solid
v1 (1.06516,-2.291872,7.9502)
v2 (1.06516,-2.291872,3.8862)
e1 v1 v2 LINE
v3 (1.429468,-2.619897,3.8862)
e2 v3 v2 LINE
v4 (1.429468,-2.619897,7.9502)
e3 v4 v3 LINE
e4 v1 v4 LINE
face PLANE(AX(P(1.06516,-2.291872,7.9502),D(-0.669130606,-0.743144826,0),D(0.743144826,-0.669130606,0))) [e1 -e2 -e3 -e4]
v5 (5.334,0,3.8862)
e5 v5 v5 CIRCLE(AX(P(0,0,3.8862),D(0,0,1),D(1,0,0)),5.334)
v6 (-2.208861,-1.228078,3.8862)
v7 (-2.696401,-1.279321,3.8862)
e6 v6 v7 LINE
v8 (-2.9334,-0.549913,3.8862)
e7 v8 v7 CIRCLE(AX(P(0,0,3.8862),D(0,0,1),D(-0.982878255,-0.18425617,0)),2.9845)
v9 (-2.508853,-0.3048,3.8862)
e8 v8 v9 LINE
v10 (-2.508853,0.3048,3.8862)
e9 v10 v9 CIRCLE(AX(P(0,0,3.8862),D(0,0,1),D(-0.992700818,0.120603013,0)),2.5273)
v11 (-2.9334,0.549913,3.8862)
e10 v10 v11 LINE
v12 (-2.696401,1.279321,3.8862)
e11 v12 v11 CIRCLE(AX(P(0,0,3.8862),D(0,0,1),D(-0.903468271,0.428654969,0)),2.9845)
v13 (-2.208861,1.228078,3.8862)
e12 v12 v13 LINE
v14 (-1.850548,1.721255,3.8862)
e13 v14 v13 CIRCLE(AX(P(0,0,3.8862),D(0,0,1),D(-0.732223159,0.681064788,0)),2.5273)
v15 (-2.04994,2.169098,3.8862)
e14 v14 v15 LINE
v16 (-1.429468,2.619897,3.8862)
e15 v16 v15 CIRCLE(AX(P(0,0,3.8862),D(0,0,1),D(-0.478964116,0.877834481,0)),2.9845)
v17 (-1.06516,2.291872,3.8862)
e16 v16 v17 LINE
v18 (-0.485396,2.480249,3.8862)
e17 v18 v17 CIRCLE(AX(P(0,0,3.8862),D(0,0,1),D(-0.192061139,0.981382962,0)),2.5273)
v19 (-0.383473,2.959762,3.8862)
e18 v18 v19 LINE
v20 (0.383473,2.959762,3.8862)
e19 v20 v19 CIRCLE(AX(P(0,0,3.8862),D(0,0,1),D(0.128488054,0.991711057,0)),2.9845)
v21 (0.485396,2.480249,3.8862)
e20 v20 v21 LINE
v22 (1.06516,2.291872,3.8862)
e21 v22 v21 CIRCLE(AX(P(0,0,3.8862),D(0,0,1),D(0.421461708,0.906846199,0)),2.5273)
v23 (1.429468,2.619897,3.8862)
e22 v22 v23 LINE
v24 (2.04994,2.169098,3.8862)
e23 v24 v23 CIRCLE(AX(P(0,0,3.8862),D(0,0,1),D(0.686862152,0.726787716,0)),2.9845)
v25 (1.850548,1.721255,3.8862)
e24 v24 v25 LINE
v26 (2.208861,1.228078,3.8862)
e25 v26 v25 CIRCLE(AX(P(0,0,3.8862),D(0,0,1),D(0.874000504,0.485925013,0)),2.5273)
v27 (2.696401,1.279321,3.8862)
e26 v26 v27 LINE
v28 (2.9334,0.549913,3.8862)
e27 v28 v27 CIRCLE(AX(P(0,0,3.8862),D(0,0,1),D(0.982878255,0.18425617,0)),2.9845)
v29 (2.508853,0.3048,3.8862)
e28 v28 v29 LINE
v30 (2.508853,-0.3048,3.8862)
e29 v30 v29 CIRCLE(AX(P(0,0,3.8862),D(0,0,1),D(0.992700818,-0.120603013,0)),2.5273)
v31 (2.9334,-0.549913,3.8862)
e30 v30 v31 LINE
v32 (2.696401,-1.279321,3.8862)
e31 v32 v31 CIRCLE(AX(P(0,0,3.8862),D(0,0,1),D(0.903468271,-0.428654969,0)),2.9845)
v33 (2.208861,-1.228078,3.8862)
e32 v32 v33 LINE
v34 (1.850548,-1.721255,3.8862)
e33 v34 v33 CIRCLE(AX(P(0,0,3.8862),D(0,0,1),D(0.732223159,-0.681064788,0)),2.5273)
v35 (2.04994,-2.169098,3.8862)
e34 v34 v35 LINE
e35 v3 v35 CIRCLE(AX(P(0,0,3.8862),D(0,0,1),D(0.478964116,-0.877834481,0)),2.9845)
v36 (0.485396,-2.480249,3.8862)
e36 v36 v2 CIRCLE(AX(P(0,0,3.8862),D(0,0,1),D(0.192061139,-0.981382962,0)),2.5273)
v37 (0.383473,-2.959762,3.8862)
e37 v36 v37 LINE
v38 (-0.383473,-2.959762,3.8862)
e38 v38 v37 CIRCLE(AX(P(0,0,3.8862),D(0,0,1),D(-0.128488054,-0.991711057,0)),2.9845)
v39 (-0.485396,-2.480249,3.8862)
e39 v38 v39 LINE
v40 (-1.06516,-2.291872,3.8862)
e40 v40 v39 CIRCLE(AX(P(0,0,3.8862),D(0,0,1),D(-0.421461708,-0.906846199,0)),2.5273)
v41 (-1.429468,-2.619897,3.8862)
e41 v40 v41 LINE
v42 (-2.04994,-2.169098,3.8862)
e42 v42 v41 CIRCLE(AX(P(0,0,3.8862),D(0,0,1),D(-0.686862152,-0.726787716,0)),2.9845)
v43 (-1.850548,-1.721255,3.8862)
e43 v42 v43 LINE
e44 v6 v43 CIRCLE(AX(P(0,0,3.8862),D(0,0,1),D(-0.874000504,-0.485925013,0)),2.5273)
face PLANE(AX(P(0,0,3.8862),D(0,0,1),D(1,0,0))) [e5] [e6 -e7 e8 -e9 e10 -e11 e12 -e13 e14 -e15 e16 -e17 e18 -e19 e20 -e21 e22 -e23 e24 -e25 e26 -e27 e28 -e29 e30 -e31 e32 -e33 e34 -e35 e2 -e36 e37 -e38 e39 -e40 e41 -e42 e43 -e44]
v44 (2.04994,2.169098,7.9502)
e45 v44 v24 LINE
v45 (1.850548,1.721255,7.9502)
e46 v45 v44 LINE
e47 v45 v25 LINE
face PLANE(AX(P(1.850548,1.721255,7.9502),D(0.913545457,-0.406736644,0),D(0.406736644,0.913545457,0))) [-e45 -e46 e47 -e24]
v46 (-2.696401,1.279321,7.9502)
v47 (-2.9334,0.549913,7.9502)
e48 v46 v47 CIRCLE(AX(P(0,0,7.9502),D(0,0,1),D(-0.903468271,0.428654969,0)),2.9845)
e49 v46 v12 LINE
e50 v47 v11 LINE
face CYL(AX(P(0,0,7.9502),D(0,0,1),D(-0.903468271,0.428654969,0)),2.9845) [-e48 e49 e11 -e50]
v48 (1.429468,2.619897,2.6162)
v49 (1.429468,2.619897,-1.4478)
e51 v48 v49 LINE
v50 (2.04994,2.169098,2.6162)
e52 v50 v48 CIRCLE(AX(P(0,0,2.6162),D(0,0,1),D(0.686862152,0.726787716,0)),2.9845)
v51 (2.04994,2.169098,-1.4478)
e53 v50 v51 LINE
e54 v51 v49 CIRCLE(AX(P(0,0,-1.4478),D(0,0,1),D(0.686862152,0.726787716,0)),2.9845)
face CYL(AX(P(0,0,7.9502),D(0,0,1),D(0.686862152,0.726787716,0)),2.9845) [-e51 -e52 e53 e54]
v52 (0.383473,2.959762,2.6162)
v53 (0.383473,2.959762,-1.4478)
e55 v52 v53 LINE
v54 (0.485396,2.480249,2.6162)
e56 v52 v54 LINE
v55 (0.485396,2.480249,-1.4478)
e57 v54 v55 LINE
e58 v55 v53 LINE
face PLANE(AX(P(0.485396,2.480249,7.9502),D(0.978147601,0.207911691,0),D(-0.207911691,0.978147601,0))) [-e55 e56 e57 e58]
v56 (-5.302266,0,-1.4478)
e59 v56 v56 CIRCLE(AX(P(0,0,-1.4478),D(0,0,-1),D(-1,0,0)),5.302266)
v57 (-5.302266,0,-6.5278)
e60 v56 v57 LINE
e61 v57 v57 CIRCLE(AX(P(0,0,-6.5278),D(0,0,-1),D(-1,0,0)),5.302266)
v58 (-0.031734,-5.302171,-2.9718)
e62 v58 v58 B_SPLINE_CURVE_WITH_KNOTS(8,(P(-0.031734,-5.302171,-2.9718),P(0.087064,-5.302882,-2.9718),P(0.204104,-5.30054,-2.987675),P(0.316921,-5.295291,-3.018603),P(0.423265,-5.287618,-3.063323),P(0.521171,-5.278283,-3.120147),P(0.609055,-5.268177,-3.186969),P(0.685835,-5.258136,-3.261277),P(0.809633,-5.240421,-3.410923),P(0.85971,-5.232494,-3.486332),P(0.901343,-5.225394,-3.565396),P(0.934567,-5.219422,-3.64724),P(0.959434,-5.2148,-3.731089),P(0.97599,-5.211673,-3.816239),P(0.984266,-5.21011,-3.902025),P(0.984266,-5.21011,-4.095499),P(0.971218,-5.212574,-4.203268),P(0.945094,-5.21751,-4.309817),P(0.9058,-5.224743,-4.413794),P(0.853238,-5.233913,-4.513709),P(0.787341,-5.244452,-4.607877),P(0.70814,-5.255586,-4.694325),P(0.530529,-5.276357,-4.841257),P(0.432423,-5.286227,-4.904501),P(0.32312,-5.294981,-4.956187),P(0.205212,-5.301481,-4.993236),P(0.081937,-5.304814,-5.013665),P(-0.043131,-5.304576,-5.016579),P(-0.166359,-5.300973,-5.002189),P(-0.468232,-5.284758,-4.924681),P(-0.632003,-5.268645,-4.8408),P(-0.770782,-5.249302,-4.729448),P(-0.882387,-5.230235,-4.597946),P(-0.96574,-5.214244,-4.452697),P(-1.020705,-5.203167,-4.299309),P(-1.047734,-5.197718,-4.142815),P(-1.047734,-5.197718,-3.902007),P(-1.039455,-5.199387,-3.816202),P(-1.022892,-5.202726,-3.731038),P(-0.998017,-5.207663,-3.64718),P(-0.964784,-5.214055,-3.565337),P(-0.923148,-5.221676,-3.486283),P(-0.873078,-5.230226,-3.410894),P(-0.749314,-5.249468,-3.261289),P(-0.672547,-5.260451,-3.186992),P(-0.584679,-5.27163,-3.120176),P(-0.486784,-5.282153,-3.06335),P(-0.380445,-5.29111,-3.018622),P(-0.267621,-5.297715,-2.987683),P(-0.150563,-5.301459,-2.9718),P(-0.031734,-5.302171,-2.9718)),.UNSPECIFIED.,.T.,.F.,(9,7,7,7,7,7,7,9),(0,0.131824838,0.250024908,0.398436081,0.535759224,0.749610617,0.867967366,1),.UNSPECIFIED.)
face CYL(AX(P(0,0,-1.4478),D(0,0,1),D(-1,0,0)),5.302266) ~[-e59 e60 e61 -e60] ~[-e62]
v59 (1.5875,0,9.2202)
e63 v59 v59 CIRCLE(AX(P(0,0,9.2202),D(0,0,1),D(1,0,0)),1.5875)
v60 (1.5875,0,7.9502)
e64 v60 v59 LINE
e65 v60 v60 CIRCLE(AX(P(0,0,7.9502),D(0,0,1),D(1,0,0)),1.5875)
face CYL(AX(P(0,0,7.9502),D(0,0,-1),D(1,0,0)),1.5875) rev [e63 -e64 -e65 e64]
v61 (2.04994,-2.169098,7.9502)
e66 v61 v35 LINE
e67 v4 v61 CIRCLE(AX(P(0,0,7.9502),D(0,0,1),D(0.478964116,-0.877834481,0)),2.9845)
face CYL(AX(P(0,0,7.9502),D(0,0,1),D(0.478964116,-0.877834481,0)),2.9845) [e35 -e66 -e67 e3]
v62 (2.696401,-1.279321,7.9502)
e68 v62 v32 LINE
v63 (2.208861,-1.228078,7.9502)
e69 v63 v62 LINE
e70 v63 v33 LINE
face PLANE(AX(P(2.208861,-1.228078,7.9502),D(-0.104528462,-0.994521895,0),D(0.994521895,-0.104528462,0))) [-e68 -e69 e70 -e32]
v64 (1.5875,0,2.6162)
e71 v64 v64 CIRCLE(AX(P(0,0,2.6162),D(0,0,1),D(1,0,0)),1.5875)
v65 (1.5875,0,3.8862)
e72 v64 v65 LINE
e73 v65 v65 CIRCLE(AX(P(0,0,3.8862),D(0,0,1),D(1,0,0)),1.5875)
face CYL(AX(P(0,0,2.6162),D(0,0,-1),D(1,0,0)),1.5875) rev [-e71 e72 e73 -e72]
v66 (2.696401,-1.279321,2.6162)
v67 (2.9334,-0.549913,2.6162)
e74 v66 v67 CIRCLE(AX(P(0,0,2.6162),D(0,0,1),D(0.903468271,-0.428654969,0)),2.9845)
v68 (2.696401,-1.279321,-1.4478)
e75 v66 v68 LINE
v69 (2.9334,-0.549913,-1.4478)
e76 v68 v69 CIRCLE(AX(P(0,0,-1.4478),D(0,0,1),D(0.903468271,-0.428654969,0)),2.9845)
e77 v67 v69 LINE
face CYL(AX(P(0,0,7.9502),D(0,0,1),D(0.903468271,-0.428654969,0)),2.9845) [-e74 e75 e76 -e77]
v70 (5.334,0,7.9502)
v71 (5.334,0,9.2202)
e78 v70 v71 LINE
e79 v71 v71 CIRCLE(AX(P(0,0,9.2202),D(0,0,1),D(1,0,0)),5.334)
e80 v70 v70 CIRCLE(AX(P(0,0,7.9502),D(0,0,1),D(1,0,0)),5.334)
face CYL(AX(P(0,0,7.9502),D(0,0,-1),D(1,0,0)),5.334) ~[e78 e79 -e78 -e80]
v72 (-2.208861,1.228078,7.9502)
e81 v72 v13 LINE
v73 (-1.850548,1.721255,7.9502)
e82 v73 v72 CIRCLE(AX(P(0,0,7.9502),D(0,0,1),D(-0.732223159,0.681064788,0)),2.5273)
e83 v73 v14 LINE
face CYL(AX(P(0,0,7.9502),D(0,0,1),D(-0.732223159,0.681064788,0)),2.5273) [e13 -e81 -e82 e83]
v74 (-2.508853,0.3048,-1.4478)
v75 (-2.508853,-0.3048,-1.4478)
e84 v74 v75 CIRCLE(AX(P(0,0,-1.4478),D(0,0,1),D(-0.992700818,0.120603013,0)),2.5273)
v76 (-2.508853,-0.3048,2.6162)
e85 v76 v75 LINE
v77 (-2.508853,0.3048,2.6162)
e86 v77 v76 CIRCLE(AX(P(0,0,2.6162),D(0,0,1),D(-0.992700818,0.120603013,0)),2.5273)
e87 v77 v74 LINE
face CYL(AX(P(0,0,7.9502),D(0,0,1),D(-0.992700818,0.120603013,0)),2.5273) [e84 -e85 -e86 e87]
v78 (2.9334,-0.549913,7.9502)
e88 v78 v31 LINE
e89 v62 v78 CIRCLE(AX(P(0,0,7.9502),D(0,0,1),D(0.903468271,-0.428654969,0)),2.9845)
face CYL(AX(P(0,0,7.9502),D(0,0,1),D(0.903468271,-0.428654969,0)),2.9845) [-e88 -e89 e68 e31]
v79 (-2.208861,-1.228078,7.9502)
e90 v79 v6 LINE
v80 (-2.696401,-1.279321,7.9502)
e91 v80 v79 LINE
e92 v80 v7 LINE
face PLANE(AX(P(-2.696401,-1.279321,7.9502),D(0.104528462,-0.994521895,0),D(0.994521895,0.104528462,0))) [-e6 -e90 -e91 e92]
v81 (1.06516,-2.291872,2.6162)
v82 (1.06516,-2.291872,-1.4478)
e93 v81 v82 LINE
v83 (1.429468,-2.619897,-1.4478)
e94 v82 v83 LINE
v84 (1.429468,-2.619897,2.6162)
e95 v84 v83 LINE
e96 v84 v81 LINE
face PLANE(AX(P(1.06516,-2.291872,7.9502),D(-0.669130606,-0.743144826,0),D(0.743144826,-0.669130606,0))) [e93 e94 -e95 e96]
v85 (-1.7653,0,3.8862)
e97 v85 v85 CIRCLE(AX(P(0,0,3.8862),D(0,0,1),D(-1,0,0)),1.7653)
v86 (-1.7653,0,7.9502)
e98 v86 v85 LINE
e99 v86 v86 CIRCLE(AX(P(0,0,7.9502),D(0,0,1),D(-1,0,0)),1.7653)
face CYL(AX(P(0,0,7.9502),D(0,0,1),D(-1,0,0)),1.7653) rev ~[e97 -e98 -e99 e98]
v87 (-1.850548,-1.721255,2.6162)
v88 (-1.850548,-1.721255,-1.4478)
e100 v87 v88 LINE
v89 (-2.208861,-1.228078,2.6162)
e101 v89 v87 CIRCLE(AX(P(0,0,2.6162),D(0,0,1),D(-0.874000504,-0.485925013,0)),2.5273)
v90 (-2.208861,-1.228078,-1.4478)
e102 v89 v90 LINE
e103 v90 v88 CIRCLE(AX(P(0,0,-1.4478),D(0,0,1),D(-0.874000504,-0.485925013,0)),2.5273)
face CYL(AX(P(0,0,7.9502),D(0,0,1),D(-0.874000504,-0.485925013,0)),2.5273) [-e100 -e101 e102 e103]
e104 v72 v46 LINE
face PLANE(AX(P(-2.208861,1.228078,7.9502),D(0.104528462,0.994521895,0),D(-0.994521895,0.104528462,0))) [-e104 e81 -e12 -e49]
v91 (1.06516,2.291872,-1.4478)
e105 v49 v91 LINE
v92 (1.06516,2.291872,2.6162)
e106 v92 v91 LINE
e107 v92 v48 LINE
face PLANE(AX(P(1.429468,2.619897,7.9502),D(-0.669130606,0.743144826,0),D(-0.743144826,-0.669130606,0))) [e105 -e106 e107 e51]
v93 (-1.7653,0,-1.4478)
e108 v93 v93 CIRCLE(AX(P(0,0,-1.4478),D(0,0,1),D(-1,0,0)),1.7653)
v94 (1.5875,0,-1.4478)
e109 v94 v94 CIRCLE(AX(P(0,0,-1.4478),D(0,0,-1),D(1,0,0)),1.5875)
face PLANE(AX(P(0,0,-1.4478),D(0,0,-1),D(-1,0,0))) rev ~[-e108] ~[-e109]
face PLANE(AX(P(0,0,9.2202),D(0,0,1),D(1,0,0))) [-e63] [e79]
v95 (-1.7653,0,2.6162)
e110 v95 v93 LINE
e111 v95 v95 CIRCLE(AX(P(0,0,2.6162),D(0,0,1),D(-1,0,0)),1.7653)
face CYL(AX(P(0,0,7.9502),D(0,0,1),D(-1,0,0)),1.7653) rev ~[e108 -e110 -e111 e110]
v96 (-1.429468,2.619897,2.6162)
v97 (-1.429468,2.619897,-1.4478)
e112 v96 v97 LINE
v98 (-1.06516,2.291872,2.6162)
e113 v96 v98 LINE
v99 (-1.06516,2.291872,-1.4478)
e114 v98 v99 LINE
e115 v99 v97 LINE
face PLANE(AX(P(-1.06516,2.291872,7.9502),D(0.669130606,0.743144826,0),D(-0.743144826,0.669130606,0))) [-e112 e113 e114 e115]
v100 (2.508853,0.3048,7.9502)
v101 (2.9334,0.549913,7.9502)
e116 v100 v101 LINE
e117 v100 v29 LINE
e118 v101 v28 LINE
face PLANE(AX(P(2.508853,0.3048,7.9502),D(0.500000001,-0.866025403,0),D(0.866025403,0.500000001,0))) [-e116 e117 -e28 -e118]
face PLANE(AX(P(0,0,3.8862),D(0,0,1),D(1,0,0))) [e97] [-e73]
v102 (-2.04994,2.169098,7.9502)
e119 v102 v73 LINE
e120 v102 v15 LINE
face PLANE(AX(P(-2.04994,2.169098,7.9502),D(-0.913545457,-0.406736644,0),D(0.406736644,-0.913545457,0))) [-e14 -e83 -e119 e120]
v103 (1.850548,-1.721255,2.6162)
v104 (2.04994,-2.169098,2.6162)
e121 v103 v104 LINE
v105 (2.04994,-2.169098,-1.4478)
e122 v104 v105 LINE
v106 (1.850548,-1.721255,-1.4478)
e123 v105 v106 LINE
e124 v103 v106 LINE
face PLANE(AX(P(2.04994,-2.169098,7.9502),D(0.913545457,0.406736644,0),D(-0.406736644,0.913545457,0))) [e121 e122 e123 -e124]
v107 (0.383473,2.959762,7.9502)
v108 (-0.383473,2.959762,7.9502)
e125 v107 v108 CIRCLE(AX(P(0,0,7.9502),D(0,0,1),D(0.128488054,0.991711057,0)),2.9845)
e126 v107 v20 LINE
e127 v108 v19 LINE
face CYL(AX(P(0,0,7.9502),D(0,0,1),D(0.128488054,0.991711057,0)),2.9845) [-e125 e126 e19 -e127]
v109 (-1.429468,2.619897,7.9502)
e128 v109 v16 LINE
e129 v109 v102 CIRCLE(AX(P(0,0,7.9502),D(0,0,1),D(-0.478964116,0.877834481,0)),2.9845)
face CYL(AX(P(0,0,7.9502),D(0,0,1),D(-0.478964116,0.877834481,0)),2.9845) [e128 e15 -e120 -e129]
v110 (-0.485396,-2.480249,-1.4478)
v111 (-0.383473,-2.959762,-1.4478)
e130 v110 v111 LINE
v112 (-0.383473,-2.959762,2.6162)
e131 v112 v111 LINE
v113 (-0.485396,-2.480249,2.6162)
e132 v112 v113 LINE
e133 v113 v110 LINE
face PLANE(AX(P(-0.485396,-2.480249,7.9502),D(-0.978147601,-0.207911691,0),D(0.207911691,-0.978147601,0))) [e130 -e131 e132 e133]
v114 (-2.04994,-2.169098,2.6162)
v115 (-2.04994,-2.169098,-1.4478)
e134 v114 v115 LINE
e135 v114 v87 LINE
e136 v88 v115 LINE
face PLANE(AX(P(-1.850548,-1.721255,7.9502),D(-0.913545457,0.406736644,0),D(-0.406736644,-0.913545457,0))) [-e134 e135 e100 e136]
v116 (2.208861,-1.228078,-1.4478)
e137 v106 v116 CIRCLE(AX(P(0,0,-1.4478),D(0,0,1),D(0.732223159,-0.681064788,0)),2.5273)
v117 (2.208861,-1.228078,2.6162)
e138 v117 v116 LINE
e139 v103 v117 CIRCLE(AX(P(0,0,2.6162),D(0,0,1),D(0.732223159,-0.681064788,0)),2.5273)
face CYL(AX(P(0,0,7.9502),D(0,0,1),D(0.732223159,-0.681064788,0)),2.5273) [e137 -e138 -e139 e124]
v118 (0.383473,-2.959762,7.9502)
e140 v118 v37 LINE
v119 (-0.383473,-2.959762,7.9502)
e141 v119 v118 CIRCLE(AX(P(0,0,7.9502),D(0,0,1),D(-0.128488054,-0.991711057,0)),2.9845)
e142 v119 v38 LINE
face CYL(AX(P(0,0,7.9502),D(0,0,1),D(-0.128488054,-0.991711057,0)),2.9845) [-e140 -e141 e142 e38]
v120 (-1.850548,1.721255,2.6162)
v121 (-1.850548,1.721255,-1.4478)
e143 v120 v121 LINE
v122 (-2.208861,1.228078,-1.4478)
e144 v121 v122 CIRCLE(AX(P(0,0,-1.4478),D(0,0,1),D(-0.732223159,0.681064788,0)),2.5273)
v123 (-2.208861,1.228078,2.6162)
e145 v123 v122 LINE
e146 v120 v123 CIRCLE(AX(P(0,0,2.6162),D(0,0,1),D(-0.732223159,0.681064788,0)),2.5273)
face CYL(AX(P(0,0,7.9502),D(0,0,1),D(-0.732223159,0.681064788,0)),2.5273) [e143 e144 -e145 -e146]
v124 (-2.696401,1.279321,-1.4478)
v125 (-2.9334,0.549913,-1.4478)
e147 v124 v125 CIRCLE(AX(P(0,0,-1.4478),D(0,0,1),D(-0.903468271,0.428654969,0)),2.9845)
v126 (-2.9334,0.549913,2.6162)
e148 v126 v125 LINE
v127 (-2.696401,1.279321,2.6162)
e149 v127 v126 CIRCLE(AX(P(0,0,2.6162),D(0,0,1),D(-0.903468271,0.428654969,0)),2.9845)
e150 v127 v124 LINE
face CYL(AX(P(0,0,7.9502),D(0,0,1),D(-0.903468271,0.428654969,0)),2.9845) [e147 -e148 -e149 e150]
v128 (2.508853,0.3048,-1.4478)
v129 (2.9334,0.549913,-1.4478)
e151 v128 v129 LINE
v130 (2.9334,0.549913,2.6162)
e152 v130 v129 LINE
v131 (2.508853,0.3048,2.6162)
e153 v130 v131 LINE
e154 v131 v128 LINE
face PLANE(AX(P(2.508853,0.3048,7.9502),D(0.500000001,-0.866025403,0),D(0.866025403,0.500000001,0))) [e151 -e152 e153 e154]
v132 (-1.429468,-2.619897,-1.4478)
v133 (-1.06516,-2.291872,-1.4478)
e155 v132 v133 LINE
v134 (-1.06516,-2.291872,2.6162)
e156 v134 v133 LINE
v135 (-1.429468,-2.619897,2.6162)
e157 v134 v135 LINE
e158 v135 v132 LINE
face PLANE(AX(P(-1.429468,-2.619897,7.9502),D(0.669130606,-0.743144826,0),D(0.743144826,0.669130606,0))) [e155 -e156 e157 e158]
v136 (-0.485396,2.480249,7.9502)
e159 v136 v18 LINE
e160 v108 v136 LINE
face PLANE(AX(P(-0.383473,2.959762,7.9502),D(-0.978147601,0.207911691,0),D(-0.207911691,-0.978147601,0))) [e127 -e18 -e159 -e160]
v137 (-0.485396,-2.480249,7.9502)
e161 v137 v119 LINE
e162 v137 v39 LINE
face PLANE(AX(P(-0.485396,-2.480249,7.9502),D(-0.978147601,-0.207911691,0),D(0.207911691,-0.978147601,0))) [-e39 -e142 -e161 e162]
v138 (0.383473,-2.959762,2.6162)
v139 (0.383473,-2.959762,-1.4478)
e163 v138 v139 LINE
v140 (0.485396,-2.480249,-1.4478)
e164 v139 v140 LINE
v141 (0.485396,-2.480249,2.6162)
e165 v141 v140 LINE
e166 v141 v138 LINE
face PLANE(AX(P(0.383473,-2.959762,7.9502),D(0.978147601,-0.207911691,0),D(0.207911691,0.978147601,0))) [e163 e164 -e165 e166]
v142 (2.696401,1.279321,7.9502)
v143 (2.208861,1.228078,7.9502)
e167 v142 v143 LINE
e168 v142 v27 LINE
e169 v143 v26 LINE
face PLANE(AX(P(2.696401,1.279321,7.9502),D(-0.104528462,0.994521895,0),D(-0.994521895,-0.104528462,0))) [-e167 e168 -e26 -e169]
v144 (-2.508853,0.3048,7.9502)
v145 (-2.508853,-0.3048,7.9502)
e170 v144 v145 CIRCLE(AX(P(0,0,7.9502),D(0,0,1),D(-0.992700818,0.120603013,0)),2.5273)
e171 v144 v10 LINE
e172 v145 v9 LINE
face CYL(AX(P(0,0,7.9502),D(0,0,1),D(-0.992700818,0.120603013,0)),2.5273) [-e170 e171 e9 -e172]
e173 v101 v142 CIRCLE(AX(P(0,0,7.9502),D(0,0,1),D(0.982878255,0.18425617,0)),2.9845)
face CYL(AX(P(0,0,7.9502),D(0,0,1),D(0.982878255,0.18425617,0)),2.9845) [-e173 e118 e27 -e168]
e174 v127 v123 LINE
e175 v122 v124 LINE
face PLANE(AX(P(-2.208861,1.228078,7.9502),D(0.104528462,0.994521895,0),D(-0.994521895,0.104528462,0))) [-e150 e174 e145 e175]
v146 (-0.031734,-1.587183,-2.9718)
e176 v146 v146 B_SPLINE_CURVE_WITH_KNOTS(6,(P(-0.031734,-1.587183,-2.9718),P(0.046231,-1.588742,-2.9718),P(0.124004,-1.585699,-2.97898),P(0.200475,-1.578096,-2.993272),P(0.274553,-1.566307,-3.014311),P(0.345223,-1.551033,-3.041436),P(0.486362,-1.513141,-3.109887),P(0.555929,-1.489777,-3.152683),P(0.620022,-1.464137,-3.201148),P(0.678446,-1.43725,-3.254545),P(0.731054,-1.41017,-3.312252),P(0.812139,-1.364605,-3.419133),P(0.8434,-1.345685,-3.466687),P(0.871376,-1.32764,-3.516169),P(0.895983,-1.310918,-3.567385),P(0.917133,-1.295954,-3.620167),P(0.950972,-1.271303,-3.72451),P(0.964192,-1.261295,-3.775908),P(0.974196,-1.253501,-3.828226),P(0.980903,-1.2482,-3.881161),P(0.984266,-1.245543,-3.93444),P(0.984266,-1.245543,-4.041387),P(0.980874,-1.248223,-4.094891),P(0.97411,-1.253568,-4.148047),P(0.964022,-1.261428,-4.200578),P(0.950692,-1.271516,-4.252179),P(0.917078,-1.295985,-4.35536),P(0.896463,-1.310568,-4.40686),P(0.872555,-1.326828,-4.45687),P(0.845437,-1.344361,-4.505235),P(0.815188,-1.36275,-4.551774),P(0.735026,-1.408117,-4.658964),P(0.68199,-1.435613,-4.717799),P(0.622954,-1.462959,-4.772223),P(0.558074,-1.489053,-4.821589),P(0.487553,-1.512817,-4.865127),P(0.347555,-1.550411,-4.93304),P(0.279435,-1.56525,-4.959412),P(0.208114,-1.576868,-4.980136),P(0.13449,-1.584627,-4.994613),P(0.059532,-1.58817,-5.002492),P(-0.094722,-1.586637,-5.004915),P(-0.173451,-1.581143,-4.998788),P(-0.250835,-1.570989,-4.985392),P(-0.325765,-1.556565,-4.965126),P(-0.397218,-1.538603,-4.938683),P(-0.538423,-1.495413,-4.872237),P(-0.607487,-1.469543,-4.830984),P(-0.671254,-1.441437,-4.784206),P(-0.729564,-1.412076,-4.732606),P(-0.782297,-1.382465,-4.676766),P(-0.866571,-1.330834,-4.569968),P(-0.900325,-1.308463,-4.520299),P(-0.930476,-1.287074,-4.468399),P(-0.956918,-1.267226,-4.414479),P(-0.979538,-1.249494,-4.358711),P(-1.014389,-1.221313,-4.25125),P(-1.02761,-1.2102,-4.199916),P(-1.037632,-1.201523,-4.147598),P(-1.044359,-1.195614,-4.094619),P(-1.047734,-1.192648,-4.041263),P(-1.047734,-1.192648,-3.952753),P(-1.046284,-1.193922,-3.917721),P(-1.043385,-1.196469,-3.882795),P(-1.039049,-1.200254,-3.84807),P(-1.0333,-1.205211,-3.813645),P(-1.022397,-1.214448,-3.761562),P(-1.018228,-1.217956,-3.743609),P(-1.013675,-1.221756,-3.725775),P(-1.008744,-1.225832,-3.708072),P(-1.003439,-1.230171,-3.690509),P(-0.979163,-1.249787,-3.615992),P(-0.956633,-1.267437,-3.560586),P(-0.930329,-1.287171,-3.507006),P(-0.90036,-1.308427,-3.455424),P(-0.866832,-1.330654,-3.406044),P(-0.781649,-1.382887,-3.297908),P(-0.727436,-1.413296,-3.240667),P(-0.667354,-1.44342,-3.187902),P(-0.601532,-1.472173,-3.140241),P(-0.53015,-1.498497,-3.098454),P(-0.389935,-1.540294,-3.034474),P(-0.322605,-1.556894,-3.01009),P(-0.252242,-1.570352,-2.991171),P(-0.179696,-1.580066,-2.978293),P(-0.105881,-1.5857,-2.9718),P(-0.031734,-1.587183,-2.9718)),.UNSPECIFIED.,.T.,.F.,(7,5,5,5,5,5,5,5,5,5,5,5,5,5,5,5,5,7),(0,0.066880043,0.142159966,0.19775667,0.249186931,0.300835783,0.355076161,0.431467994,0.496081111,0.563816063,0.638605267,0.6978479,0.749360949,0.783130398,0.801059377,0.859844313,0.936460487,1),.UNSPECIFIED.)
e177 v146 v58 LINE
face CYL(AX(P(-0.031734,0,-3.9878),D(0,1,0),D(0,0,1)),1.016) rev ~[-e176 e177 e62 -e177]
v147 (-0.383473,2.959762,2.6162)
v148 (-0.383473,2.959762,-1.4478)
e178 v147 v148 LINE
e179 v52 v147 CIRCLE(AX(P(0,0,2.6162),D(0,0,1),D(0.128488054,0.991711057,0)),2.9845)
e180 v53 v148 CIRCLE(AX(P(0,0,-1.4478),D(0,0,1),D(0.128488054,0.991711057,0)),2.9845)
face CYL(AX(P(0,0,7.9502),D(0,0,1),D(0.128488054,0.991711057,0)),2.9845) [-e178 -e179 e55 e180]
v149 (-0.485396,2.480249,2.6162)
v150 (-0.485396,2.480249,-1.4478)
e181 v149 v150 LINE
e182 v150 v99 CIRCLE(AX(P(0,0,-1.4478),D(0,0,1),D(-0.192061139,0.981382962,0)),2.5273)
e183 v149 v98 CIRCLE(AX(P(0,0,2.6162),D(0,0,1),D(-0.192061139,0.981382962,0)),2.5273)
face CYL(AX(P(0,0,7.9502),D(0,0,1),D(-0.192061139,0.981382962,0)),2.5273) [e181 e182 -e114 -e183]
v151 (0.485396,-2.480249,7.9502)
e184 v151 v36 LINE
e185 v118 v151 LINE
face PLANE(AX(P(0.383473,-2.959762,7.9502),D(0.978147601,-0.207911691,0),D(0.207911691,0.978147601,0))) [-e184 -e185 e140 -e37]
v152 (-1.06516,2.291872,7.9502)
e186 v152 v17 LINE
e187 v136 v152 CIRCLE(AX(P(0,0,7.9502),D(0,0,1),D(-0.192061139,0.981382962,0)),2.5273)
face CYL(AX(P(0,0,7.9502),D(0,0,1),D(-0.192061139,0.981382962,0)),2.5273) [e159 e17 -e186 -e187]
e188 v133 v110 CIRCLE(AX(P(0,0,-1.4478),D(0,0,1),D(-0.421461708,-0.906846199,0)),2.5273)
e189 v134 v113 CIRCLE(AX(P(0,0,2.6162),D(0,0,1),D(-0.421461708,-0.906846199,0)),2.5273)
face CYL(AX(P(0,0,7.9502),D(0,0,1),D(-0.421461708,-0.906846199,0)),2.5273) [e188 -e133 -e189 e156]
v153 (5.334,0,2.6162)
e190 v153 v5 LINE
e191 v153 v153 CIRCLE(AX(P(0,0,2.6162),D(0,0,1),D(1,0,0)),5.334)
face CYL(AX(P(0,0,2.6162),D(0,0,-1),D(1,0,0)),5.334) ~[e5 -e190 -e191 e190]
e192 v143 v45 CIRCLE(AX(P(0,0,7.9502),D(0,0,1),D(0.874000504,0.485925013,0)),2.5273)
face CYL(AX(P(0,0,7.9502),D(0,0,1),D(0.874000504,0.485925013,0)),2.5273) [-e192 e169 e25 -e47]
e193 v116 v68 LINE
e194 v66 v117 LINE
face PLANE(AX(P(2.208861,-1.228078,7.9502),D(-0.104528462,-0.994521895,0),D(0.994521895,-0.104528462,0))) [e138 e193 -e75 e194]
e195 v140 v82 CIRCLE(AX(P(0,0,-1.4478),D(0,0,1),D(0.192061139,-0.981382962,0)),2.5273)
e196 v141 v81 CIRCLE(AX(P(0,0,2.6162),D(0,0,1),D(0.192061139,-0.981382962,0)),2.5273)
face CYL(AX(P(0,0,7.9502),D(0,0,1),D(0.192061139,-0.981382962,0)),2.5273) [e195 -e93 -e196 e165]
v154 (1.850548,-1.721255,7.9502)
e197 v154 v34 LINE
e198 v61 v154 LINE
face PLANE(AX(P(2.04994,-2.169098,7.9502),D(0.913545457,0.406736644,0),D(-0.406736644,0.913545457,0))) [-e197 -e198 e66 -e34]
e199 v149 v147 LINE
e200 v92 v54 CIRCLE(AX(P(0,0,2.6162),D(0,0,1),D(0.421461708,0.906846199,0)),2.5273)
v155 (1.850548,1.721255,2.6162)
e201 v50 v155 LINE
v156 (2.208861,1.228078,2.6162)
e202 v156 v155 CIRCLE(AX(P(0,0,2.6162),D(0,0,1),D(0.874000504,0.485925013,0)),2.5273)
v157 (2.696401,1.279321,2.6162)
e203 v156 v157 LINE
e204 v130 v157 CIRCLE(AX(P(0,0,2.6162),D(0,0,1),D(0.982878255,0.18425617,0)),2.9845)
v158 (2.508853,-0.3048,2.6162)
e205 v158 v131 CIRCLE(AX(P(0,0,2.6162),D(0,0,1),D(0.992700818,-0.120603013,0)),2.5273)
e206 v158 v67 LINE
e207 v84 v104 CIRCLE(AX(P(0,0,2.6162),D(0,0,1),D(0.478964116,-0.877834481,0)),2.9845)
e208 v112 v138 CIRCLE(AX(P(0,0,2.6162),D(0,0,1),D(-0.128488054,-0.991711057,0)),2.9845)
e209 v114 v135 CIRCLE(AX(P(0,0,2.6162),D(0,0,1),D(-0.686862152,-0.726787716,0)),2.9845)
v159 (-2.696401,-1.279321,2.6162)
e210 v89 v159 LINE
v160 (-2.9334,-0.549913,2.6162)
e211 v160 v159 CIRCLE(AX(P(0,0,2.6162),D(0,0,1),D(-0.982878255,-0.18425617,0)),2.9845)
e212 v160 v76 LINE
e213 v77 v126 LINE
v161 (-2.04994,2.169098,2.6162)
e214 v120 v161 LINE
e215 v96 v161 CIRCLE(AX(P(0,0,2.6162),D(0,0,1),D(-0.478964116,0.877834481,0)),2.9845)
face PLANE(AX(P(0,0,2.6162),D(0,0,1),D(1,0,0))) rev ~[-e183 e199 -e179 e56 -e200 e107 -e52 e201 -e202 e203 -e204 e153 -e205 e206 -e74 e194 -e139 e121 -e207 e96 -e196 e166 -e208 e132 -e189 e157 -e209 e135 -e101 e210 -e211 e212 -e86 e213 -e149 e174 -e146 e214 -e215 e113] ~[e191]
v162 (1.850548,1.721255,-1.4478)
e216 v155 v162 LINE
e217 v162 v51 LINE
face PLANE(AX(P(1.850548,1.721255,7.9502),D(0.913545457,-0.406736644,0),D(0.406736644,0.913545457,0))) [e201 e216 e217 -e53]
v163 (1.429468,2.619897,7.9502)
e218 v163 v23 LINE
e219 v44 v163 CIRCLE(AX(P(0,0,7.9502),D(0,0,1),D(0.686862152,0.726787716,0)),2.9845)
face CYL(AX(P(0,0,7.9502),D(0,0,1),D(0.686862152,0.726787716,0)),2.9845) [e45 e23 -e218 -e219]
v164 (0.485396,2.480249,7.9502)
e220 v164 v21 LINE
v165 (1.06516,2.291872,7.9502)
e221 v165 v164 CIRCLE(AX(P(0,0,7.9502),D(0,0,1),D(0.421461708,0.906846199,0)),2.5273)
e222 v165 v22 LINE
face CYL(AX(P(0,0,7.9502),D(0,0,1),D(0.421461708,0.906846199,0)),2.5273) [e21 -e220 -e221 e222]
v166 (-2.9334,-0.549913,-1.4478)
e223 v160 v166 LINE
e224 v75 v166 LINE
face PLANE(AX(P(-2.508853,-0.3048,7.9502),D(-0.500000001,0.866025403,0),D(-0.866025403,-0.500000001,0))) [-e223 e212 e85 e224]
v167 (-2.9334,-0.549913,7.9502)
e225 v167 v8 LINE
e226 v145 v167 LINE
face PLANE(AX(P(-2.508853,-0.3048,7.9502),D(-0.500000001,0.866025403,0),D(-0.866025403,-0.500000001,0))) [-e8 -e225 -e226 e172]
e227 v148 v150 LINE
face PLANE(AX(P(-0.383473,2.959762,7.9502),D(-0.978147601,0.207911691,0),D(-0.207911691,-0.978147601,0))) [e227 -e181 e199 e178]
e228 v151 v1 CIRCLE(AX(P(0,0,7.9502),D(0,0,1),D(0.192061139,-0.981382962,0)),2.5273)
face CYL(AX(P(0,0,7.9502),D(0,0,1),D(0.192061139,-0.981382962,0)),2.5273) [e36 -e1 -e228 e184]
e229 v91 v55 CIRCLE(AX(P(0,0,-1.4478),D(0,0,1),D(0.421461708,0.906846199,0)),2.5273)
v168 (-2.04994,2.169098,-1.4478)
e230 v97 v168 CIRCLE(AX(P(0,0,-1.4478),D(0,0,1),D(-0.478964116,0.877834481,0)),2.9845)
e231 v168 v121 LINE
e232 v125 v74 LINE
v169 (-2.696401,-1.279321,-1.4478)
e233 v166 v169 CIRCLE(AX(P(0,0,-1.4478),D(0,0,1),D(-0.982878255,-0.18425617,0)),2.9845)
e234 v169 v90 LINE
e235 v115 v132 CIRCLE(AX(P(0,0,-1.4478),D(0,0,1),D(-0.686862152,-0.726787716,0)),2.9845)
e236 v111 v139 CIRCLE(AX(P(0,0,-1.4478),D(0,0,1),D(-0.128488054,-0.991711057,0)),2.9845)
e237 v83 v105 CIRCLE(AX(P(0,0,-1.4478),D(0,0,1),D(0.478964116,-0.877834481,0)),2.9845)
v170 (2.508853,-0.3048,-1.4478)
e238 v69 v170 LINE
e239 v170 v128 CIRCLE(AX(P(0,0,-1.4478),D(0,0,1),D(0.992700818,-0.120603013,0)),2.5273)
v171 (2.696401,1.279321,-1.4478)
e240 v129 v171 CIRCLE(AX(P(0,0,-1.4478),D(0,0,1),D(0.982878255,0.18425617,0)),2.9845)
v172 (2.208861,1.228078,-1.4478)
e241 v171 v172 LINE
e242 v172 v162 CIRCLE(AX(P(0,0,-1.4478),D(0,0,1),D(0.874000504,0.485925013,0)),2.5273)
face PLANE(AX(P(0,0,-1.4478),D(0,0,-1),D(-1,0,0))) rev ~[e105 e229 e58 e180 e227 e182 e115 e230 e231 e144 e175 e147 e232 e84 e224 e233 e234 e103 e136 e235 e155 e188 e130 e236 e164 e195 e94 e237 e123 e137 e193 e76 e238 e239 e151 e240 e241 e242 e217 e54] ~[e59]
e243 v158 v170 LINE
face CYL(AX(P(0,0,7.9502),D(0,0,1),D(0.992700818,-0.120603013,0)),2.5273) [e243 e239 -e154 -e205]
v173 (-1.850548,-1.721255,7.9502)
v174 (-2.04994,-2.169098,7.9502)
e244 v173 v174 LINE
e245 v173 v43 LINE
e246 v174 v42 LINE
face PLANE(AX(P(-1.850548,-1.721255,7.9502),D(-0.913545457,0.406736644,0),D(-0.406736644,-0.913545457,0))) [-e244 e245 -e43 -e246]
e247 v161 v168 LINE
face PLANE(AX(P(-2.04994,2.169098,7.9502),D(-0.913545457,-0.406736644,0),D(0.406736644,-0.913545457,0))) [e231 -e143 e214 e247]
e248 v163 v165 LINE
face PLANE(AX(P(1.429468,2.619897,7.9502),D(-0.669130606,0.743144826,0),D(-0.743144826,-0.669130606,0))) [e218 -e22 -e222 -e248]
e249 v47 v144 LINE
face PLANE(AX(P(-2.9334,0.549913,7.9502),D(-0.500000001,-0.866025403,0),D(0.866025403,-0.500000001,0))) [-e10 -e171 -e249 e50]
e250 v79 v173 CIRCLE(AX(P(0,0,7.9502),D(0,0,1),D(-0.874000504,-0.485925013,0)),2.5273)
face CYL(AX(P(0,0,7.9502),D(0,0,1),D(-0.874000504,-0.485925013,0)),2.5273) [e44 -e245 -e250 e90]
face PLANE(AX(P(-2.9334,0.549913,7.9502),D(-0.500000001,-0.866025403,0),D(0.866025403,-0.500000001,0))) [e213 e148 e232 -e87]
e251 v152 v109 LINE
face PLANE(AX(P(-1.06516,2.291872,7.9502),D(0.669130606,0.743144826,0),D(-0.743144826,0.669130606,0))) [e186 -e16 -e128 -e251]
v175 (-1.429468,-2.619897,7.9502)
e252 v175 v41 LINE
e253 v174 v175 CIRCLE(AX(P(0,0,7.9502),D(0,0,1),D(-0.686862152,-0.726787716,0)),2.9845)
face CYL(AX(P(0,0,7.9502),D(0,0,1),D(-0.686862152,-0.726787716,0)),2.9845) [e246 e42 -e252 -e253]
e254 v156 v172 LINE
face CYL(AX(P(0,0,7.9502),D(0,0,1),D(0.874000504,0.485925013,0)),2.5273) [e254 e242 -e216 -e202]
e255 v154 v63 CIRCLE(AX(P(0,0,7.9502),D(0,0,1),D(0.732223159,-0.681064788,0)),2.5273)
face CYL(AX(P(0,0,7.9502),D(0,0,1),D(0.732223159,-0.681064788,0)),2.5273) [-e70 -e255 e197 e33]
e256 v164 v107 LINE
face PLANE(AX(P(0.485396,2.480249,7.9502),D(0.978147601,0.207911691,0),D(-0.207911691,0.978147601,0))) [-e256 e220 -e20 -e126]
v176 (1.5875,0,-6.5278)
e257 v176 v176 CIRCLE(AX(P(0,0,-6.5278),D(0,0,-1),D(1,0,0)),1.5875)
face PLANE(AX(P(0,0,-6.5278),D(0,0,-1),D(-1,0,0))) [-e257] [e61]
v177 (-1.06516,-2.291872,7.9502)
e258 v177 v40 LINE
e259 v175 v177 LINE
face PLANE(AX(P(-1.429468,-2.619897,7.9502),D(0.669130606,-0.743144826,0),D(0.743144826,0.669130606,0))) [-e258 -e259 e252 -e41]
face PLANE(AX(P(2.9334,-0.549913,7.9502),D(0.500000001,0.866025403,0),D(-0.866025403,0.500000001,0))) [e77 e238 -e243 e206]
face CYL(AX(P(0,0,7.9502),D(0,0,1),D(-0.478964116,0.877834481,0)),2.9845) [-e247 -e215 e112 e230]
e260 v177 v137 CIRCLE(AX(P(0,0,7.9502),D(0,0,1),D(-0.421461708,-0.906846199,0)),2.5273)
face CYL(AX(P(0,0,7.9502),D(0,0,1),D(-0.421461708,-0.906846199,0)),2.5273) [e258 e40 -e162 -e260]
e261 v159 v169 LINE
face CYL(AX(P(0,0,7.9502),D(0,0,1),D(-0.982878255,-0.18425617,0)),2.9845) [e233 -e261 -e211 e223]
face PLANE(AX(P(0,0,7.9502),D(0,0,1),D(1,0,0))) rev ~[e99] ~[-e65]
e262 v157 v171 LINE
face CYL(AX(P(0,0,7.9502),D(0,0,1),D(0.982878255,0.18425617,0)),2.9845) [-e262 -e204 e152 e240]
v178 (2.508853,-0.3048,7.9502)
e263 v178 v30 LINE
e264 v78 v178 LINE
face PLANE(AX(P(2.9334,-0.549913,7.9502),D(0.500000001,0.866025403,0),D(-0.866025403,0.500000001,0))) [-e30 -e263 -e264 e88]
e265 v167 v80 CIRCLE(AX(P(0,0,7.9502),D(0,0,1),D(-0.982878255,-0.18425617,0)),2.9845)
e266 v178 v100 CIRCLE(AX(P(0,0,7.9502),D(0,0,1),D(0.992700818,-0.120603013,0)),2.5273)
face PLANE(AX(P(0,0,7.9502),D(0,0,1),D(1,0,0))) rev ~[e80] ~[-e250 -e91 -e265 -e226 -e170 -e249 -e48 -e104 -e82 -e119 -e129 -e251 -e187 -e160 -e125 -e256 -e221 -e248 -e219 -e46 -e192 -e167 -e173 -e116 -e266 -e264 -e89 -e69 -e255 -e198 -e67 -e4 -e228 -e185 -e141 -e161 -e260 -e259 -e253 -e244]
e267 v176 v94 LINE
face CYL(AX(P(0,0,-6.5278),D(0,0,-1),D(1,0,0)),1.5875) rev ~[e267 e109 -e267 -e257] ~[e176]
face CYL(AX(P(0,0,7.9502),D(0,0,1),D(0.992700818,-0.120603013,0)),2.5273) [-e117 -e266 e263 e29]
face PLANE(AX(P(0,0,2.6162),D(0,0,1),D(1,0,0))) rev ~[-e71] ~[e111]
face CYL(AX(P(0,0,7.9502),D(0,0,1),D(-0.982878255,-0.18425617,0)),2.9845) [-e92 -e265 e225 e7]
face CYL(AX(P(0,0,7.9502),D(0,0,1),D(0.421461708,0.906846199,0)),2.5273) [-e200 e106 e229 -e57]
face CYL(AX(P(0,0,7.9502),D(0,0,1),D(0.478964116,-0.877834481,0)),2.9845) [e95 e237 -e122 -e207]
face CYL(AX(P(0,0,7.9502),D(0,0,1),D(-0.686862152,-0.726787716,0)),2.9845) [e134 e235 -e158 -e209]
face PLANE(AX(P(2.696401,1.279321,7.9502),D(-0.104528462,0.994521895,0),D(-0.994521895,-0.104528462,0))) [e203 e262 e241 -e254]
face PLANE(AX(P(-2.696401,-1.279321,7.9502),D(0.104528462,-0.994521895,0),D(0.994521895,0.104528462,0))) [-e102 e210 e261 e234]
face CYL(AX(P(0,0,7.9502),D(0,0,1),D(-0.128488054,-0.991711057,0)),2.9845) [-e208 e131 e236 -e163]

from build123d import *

# Parameters (mm, degrees)
SKETCH1_R           = 1.7653
BOSS_EXTRUDE1_DEPTH = 9.398
SKETCH2_R           = 5.334
SKETCH2_R_2         = 1.5875
BOSS_EXTRUDE2_DEPTH = 1.27
BOSS_EXTRUDE3_START = -1.27
SKETCH3_R           = 5.334
SKETCH3_R_2         = 1.5875
BOSS_EXTRUDE3_DEPTH = 1.27
SKETCH4_R           = 5.302265601
BOSS_EXTRUDE4_DEPTH = 5.08
SKETCH5_R           = 1.016
CUT_EXTRUDE1_DEPTH  = 7.62
SKETCH7_R           = 1.5875
CUT_EXTRUDE3_DEPTH  = 18.461460878


with BuildPart() as part:
    # Sketch1 → Boss-Extrude1 (new body)
    with BuildSketch(Plane.XY.offset(7.9502)):
        with BuildLine():
            Line((-2.508852776, -0.3048), (-2.933400151, -0.549912542))
            ThreePointArc((-2.933400151, -0.549912542), (-2.838428173, -0.92226122), (-2.696401056, -1.279320756))
            Line((-2.696401056, -1.279320756), (-2.208861477, -1.228078282))
            ThreePointArc((-2.208861477, -1.228078282), (-2.04462865, -1.485509668), (-1.850547587, -1.721255042))
            Line((-1.850547587, -1.721255042), (-2.049940092, -2.169097939))
            ThreePointArc((-2.049940092, -2.169097939), (-1.754245085, -2.41451122), (-1.429468404, -2.619897008))
            Line((-1.429468404, -2.619897008), (-1.06516017, -2.291872401))
            ThreePointArc((-1.06516017, -2.291872401), (-0.78097865, -2.403605134), (-0.485396118, -2.480249161))
            Line((-0.485396118, -2.480249161), (-0.383472592, -2.959761649))
            ThreePointArc((-0.383472592, -2.959761649), (0, -2.9845), (0.383472592, -2.959761649))
            Line((0.383472592, -2.959761649), (0.485396118, -2.480249161))
            ThreePointArc((0.485396118, -2.480249161), (0.78097865, -2.403605134), (1.06516017, -2.291872401))
            Line((1.06516017, -2.291872401), (1.429468404, -2.619897008))
            ThreePointArc((1.429468404, -2.619897008), (1.754245085, -2.41451122), (2.049940092, -2.169097939))
            Line((2.049940092, -2.169097939), (1.850547587, -1.721255042))
            ThreePointArc((1.850547587, -1.721255042), (2.04462865, -1.485509668), (2.208861477, -1.228078282))
            Line((2.208861477, -1.228078282), (2.696401056, -1.279320756))
            ThreePointArc((2.696401056, -1.279320756), (2.838428173, -0.92226122), (2.933400151, -0.549912542))
            Line((2.933400151, -0.549912542), (2.508852776, -0.3048))
            ThreePointArc((2.508852776, -0.3048), (2.5273, 0), (2.508852776, 0.3048))
            Line((2.508852776, 0.3048), (2.933400151, 0.549912542))
            ThreePointArc((2.933400151, 0.549912542), (2.838428173, 0.92226122), (2.696401056, 1.279320756))
            Line((2.696401056, 1.279320756), (2.208861477, 1.228078282))
            ThreePointArc((2.208861477, 1.228078282), (2.04462865, 1.485509668), (1.850547587, 1.721255042))
            Line((1.850547587, 1.721255042), (2.049940092, 2.169097939))
            ThreePointArc((2.049940092, 2.169097939), (1.754245085, 2.41451122), (1.429468404, 2.619897008))
            Line((1.429468404, 2.619897008), (1.06516017, 2.291872401))
            ThreePointArc((1.06516017, 2.291872401), (0.78097865, 2.403605134), (0.485396118, 2.480249161))
            Line((0.485396118, 2.480249161), (0.383472592, 2.959761649))
            ThreePointArc((0.383472592, 2.959761649), (0, 2.9845), (-0.383472592, 2.959761649))
            Line((-0.383472592, 2.959761649), (-0.485396118, 2.480249161))
            ThreePointArc((-0.485396118, 2.480249161), (-0.78097865, 2.403605134), (-1.06516017, 2.291872401))
            Line((-1.06516017, 2.291872401), (-1.429468404, 2.619897008))
            ThreePointArc((-1.429468404, 2.619897008), (-1.754245085, 2.41451122), (-2.049940092, 2.169097939))
            Line((-2.049940092, 2.169097939), (-1.850547587, 1.721255042))
            ThreePointArc((-1.850547587, 1.721255042), (-2.04462865, 1.485509668), (-2.208861477, 1.228078282))
            Line((-2.208861477, 1.228078282), (-2.696401056, 1.279320756))
            ThreePointArc((-2.696401056, 1.279320756), (-2.838428173, 0.92226122), (-2.933400151, 0.549912542))
            Line((-2.933400151, 0.549912542), (-2.508852776, 0.3048))
            ThreePointArc((-2.508852776, 0.3048), (-2.5273, 0), (-2.508852776, -0.3048))
        make_face()
        with Locations(Location((0, 0, 0), (0, 0, 180))):
            Circle(SKETCH1_R, mode=Mode.SUBTRACT)
    extrude(amount=-BOSS_EXTRUDE1_DEPTH)

    # Sketch2 → Boss-Extrude2 (add)
    with BuildSketch(Plane.XY.offset(7.9502)):
        Circle(SKETCH2_R)
        Circle(SKETCH2_R_2, mode=Mode.SUBTRACT)
    extrude(amount=BOSS_EXTRUDE2_DEPTH)

    # Sketch3 → Boss-Extrude3 (add)
    with BuildSketch(Plane.XY.offset(3.8862).offset(BOSS_EXTRUDE3_START)):
        Circle(SKETCH3_R)
        Circle(SKETCH3_R_2, mode=Mode.SUBTRACT)
    extrude(amount=BOSS_EXTRUDE3_DEPTH)

    # Sketch4 → Boss-Extrude4 (add)
    with BuildSketch(Plane(origin=(0, 0, -1.4478), x_dir=(-1, 0, 0), z_dir=(0, 0, -1))):
        Circle(SKETCH4_R)
    extrude(amount=BOSS_EXTRUDE4_DEPTH)

    # Sketch5 → Cut-Extrude1 (cut)
    with BuildSketch(Plane(origin=(0, 0, 0), x_dir=(1, 0, 0), z_dir=(0, 1, 0))):
        with Locations(Location((-0.031734399, 3.9878, 0), (0, 0, 270))):
            Circle(SKETCH5_R)
    extrude(amount=-CUT_EXTRUDE1_DEPTH, mode=Mode.SUBTRACT)

    # Sketch7 → Cut-Extrude3 (cut, through all)
    with BuildSketch(Plane(origin=(0, 0, -6.5278), x_dir=(-1, 0, 0), z_dir=(0, 0, -1))):
        with Locations(Location((0, 0, 0), (0, 0, 180))):
            Circle(SKETCH7_R)
    extrude(amount=-CUT_EXTRUDE3_DEPTH, mode=Mode.SUBTRACT)


solid = part.part
